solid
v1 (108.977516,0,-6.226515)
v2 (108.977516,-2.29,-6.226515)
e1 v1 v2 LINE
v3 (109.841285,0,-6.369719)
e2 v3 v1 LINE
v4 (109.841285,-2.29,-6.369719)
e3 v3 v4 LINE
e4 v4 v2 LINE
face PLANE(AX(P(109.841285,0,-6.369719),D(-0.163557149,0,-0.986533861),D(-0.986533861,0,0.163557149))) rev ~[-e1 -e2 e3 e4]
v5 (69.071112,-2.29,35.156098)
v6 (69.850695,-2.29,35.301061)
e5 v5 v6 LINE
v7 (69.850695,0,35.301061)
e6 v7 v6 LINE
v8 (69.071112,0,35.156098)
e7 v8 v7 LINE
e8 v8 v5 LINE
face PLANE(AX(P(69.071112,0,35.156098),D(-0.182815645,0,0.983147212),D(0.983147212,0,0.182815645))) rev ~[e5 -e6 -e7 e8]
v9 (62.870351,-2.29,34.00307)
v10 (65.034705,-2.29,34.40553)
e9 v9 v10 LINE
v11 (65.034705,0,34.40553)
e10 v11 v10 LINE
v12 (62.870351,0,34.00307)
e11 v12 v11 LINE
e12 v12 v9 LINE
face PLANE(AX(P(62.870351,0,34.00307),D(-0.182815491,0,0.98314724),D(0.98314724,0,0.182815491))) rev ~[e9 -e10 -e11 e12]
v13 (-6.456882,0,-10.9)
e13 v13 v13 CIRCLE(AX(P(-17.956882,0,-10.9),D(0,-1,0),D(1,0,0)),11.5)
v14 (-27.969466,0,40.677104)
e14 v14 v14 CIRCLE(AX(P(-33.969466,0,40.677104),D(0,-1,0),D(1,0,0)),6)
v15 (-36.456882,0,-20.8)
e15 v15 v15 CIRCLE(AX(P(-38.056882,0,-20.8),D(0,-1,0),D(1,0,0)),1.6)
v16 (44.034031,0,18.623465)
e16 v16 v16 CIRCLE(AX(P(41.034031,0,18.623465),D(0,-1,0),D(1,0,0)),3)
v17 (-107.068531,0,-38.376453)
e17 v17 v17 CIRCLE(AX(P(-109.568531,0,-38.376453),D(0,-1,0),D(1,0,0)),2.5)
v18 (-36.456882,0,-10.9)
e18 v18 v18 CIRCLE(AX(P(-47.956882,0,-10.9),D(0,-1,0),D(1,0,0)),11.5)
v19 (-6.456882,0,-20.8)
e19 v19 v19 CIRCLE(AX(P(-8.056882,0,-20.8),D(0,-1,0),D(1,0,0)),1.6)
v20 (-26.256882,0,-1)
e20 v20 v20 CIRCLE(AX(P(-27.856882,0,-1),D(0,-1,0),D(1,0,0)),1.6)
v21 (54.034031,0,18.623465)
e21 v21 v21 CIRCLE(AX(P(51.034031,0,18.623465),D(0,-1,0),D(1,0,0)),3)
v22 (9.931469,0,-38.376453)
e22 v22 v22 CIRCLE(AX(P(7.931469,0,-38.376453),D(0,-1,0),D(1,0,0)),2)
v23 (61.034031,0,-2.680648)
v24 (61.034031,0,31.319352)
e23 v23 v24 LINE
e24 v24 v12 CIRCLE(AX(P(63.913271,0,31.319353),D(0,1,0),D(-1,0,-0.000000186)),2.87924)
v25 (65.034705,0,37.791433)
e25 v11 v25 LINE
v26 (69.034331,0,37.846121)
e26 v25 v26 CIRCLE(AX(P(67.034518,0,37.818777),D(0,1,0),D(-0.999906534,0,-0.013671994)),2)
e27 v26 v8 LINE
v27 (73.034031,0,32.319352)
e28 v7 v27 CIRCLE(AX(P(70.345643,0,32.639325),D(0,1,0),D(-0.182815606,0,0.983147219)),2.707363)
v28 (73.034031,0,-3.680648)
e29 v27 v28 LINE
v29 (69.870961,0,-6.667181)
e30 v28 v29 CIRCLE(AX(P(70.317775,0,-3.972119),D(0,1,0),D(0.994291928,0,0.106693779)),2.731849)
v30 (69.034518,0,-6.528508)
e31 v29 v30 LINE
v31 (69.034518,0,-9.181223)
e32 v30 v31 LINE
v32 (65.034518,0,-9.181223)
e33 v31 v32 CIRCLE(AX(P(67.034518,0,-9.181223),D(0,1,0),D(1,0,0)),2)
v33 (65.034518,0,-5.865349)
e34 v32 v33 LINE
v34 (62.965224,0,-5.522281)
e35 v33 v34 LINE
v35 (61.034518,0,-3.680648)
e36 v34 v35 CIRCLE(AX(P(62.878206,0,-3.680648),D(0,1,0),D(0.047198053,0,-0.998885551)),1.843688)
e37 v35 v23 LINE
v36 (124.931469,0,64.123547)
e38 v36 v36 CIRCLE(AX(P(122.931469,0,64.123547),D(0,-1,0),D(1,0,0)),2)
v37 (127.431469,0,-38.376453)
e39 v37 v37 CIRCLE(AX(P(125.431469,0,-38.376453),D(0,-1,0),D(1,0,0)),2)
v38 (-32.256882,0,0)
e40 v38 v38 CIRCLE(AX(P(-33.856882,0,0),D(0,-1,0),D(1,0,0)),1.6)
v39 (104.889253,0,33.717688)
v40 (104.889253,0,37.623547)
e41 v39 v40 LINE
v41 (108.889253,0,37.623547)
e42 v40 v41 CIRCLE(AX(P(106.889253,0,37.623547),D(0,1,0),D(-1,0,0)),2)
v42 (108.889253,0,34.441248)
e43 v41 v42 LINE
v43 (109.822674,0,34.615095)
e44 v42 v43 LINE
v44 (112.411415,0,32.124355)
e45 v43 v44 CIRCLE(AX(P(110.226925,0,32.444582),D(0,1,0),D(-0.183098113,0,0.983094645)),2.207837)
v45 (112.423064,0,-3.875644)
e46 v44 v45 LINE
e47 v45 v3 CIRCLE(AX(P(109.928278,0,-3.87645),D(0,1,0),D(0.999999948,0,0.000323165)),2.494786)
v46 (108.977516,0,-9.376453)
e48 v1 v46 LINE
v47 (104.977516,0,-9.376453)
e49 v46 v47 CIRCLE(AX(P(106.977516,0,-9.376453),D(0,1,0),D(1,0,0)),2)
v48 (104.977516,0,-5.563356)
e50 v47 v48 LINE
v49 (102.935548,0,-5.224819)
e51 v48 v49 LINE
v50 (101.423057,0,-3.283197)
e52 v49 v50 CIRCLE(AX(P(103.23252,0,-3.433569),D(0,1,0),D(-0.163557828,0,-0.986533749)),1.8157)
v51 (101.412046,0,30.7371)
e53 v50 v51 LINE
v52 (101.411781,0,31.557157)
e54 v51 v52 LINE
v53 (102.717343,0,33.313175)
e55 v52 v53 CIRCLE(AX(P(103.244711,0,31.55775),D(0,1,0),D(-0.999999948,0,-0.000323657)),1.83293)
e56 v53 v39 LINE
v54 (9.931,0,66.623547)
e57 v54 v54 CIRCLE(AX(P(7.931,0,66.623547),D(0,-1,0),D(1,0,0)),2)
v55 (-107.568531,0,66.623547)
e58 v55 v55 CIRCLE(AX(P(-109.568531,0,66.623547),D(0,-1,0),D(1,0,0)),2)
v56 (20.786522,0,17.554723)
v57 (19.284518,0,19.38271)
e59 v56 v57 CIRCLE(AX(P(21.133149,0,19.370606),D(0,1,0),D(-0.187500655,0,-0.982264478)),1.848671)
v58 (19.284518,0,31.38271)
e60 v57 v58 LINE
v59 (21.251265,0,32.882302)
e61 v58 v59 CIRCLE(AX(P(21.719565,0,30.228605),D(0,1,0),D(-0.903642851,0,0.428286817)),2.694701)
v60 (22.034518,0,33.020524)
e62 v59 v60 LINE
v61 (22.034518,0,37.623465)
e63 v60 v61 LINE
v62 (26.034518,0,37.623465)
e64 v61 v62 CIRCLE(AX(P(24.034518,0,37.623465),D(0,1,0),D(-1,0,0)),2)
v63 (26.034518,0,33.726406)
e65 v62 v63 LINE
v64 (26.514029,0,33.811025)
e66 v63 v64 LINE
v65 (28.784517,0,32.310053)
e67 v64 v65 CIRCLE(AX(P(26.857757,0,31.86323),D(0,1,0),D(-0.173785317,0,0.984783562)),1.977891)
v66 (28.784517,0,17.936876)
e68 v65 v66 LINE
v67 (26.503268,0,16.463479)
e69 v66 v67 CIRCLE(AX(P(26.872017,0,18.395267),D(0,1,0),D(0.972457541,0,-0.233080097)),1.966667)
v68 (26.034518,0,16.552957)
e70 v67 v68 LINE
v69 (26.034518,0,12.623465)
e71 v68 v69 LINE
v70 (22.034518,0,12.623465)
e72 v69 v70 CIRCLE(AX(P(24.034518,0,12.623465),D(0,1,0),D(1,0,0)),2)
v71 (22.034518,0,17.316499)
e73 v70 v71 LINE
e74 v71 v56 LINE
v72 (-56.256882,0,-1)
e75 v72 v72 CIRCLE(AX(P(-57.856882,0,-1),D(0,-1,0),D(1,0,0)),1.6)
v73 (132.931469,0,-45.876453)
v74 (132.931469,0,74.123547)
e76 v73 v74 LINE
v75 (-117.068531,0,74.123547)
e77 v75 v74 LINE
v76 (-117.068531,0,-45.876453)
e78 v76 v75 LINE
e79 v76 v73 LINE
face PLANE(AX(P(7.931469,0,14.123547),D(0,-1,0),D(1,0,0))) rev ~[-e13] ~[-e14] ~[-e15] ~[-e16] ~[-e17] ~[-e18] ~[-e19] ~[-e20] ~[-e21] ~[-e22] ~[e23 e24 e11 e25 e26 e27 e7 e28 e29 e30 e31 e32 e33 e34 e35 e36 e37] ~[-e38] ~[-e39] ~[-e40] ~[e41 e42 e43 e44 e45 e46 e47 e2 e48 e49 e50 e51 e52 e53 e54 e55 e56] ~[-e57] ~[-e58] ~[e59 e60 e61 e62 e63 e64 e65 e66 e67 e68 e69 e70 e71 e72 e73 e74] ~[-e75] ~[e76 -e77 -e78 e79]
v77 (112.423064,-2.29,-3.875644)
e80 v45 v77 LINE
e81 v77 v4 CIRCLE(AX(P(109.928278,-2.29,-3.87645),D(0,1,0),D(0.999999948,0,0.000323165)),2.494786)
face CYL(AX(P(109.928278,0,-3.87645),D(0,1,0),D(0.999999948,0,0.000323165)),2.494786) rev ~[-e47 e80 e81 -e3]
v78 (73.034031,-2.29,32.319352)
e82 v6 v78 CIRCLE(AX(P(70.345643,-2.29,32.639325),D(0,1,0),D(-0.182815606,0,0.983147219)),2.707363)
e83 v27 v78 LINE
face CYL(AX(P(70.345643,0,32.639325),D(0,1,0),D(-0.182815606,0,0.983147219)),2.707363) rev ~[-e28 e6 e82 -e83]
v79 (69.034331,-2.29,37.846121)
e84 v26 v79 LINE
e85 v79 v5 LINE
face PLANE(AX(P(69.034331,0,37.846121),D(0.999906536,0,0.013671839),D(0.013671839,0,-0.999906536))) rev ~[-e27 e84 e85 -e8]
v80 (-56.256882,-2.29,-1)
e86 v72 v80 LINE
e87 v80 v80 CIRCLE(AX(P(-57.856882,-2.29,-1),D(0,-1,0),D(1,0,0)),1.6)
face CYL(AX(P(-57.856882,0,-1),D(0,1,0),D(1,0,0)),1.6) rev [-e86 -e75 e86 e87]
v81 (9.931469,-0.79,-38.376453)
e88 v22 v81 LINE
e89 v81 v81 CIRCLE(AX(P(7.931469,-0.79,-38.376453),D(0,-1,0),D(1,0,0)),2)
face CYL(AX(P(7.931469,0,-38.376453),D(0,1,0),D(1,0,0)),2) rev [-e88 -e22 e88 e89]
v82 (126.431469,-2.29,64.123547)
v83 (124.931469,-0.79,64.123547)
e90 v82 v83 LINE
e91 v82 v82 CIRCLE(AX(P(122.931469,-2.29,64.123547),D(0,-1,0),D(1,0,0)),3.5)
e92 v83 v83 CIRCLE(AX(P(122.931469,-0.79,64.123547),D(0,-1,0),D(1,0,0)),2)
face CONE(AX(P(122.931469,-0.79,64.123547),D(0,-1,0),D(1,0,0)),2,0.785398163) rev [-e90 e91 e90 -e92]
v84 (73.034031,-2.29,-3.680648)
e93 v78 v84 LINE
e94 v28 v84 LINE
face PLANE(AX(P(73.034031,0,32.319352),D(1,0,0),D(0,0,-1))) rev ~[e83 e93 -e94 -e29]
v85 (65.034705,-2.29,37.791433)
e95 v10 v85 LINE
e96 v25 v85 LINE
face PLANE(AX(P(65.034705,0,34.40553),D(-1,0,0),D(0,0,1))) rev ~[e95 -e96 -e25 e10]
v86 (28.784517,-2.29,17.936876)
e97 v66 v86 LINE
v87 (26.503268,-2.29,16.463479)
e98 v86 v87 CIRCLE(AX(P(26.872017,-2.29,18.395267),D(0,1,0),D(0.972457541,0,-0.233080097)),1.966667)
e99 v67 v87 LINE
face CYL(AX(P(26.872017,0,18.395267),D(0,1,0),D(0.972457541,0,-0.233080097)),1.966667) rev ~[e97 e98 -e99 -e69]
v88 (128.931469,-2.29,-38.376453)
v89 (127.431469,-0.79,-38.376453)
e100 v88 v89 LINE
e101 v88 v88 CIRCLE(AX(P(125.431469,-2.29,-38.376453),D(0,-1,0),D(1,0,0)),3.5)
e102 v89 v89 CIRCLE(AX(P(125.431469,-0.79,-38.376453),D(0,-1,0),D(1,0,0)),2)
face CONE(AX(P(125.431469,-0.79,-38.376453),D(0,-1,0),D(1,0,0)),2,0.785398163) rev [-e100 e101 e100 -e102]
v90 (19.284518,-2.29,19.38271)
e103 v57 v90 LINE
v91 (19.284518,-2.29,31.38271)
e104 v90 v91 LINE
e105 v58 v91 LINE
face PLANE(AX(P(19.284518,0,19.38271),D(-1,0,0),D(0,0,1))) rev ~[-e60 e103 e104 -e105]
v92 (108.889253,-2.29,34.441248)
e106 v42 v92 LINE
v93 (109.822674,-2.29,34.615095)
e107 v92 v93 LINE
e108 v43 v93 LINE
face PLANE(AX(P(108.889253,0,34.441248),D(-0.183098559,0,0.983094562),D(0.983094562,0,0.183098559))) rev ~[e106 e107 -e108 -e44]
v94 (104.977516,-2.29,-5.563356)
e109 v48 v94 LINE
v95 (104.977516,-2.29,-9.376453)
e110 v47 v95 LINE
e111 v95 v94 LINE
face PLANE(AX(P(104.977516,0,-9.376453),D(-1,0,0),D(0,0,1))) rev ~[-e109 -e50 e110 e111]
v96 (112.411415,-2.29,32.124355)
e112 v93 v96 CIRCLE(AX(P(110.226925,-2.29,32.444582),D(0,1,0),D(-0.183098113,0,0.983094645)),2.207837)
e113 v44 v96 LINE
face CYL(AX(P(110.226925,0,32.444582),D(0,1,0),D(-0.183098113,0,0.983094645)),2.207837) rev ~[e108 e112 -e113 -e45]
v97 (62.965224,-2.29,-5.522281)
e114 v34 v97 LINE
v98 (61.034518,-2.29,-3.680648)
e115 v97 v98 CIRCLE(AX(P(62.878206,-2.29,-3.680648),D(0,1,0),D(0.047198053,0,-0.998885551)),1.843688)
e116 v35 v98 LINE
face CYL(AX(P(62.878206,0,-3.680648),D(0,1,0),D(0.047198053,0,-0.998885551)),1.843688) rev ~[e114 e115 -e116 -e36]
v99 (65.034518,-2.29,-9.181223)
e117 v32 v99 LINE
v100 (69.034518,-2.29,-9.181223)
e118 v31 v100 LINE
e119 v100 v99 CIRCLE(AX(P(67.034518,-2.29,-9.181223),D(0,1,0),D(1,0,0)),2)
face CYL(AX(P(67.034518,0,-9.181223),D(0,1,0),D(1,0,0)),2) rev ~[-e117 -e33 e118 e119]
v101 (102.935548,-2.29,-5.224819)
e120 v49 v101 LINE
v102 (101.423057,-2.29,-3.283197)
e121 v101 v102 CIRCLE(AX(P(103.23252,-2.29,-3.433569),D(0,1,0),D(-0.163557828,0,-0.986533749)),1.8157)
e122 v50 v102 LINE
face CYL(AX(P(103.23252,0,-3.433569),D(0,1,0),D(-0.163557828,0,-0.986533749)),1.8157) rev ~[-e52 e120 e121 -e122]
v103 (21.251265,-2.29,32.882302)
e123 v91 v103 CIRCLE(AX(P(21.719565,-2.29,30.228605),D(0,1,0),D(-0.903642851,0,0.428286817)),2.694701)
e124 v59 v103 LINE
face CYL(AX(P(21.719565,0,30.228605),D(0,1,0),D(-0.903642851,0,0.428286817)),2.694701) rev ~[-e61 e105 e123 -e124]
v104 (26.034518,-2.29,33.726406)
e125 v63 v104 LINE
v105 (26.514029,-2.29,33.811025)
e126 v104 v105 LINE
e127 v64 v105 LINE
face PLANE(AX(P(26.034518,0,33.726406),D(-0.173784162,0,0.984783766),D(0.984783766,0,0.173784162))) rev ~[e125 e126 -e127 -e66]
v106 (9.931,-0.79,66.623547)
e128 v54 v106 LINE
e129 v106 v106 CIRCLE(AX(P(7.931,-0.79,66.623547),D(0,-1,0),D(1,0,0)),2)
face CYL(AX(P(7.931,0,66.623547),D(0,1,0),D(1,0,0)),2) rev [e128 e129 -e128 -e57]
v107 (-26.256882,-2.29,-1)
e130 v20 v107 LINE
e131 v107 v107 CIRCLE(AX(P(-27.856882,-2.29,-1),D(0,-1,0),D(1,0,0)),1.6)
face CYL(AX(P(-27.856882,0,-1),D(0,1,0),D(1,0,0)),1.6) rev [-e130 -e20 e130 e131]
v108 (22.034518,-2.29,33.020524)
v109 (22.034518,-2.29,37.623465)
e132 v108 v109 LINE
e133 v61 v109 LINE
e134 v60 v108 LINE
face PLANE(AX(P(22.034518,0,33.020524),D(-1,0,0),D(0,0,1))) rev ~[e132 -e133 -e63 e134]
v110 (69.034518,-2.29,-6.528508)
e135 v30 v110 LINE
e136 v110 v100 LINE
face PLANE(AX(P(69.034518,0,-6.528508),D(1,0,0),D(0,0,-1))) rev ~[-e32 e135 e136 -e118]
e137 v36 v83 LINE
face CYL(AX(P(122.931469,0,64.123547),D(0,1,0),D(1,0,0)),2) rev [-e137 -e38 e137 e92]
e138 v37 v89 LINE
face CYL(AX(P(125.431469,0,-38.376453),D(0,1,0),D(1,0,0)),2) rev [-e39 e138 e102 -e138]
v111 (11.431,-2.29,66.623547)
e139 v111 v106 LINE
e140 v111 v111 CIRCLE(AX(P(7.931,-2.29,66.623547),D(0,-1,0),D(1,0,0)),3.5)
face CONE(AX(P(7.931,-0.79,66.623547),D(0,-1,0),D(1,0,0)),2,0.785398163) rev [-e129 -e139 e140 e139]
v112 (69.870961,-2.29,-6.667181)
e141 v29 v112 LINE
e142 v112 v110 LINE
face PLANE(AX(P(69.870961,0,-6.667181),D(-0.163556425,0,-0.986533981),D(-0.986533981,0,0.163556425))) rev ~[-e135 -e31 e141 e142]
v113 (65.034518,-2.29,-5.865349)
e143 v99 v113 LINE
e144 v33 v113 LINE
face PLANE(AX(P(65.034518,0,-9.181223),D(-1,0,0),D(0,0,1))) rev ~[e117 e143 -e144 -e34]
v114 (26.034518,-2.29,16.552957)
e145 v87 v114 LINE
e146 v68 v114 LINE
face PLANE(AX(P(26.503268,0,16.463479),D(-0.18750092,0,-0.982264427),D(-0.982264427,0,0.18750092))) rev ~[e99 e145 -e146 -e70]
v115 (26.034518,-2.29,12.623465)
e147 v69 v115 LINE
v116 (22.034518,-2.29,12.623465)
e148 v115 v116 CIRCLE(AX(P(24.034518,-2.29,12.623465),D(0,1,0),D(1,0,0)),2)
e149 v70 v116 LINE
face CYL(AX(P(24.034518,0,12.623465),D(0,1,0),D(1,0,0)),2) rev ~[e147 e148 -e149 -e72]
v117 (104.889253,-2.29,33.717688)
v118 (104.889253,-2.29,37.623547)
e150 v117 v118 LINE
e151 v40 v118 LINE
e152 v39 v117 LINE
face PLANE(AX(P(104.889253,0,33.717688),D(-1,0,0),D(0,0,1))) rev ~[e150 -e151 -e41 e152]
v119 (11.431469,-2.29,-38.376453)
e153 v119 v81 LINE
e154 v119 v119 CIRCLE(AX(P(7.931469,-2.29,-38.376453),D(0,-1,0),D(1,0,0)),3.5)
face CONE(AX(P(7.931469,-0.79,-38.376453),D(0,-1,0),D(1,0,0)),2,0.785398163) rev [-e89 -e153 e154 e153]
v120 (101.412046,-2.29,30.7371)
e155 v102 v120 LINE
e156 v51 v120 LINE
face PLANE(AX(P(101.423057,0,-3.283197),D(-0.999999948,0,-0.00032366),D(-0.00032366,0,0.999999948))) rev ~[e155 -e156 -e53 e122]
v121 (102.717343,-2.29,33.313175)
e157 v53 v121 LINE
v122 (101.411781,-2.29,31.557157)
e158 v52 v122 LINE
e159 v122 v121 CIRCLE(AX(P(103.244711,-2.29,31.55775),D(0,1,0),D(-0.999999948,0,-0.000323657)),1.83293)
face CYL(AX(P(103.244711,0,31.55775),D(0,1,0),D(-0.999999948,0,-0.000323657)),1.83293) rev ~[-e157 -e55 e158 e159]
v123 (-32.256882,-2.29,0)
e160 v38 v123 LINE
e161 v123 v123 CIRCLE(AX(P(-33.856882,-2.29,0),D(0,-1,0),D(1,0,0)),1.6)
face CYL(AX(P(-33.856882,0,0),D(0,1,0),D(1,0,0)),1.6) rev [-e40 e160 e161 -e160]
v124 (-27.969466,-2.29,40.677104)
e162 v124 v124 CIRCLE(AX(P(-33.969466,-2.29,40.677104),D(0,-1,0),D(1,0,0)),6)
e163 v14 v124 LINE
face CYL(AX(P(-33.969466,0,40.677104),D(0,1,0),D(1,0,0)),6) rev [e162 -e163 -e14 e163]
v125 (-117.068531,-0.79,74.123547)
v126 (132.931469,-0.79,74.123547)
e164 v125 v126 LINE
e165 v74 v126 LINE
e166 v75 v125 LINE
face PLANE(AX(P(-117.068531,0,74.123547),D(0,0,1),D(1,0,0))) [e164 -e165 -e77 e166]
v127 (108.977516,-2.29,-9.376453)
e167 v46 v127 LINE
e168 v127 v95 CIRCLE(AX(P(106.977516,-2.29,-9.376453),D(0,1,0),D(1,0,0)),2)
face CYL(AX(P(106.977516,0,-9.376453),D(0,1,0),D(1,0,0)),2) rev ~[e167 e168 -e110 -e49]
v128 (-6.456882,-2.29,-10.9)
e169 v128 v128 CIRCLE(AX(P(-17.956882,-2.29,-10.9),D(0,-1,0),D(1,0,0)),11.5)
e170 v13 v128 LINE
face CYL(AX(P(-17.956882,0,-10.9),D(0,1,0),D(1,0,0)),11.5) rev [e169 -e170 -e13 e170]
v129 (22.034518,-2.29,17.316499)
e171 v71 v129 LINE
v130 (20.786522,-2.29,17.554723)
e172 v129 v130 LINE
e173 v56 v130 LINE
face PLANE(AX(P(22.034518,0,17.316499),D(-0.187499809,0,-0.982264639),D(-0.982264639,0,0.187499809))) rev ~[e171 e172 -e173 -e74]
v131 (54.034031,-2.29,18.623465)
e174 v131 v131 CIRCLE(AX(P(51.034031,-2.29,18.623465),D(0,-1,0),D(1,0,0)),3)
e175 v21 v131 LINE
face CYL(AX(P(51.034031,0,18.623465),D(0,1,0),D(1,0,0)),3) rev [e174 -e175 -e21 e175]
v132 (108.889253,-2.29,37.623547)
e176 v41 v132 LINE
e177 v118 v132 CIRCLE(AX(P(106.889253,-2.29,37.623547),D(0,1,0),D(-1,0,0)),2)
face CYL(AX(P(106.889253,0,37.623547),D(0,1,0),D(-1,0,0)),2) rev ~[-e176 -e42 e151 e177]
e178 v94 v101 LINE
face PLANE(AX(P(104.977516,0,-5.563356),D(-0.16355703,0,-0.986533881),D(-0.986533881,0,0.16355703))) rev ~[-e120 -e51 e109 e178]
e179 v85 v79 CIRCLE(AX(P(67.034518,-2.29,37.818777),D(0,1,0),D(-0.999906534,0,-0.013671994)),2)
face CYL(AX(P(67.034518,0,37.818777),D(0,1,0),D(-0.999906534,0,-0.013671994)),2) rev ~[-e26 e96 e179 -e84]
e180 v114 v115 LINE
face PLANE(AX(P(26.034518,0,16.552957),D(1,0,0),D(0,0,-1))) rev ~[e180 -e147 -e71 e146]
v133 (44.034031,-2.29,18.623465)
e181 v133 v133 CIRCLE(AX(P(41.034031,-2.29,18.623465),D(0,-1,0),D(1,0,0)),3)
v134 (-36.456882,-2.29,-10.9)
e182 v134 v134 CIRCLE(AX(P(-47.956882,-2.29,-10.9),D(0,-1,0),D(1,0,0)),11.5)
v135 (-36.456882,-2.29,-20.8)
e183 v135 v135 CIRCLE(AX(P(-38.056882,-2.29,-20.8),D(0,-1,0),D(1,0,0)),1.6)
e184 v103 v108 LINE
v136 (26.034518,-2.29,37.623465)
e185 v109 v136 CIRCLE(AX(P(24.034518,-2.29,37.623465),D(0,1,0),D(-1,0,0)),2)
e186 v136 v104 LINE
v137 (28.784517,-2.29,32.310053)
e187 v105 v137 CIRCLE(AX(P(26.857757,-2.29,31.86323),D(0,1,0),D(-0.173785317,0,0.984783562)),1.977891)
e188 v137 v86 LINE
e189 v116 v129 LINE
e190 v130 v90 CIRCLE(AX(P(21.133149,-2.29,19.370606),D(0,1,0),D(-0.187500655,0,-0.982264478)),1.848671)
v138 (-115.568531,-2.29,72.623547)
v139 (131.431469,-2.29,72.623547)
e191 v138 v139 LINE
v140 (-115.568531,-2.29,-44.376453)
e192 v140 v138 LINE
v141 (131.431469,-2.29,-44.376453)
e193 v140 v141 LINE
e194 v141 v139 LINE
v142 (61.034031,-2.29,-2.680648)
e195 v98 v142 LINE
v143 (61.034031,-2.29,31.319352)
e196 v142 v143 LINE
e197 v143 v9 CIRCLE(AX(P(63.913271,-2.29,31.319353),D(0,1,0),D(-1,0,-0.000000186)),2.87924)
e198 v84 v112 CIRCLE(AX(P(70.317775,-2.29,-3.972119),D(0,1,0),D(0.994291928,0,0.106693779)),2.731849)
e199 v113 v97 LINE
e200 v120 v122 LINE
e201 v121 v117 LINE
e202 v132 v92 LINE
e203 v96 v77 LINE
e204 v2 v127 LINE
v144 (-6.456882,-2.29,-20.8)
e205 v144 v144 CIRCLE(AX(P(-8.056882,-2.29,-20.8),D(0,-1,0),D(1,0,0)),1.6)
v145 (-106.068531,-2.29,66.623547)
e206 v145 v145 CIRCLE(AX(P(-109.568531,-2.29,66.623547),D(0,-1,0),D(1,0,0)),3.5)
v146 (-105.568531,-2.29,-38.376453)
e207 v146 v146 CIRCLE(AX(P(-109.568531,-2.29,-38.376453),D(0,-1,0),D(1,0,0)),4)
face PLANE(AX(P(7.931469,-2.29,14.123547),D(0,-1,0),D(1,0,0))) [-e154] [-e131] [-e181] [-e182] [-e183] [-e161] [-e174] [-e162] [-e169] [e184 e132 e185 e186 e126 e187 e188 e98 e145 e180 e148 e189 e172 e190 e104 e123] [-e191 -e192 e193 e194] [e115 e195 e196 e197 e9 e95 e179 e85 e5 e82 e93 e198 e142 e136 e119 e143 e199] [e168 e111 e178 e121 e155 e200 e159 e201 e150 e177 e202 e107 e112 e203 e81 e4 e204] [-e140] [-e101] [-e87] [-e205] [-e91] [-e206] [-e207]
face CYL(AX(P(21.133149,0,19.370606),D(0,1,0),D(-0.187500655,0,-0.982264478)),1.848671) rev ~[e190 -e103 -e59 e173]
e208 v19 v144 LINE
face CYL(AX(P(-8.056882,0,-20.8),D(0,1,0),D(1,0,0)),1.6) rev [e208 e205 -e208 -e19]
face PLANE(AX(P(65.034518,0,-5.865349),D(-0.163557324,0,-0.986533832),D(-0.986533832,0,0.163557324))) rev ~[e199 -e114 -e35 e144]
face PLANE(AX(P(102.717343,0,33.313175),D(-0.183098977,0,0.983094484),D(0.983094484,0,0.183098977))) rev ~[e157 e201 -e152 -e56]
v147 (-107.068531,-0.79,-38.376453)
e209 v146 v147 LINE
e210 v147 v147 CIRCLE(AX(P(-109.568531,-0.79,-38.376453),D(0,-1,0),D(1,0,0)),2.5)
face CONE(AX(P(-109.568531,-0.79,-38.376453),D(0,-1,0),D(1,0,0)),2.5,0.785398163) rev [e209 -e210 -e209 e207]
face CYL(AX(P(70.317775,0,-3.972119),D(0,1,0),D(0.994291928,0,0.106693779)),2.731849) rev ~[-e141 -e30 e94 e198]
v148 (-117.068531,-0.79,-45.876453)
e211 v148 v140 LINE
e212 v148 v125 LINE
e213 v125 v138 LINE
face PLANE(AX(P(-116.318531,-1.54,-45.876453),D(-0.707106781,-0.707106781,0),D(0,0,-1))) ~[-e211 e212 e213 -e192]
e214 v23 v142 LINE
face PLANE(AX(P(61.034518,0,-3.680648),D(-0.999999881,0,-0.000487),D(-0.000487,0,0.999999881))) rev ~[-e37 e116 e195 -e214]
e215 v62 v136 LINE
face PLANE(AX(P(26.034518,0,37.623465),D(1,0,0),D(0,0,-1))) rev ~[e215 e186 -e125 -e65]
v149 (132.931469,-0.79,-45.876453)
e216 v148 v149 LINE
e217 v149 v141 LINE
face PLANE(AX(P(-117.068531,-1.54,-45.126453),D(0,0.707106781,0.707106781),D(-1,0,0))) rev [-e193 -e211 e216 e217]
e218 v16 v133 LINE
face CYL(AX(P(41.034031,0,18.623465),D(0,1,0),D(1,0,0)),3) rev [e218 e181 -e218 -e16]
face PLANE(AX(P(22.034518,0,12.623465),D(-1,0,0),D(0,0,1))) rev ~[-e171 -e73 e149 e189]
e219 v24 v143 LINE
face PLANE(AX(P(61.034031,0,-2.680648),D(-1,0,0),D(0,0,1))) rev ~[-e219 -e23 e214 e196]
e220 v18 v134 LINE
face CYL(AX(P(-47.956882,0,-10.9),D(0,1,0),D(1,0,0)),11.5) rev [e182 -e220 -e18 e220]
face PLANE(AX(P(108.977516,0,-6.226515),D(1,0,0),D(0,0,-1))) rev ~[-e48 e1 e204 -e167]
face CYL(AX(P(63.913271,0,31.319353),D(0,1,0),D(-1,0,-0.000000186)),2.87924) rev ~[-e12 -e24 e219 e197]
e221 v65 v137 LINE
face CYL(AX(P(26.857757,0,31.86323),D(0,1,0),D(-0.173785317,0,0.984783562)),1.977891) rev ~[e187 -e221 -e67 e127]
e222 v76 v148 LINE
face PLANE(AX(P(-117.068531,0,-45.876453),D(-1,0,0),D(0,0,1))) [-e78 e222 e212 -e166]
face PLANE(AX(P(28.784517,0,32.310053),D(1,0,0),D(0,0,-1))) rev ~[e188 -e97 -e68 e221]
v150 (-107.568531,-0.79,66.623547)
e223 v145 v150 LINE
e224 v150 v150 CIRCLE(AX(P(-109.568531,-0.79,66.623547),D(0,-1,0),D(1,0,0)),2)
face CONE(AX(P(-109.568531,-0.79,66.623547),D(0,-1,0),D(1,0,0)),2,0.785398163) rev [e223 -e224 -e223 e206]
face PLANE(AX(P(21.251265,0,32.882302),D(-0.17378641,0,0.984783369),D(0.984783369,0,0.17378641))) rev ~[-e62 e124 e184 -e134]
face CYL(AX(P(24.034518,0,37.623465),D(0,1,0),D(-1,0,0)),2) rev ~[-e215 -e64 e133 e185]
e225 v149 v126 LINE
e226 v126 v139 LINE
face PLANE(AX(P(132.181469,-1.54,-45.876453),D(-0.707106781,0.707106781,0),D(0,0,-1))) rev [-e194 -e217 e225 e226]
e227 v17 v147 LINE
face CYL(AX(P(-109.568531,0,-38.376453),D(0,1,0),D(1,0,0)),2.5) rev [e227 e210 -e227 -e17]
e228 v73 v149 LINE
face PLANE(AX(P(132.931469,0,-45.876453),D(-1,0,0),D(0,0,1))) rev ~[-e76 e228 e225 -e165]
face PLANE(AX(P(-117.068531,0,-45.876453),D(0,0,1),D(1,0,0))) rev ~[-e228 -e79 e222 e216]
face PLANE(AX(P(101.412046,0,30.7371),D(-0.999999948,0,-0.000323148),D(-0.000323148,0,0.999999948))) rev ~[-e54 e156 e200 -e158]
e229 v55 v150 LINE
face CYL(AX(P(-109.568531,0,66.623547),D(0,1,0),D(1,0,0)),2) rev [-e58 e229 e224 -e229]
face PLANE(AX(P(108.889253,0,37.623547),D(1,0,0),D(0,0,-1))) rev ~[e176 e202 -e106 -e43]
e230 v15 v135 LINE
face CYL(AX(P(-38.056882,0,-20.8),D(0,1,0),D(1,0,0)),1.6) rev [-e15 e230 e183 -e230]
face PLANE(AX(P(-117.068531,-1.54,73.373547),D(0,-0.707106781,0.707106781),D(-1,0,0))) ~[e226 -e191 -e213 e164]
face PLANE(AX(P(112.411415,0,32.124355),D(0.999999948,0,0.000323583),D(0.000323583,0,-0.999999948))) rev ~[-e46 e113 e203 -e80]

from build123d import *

# Parameters (mm, degrees)
F0_W     = 250
F0_H     = 120
F0_R     = 2.5
F0_R_2   = 1.6
F0_R_3   = 11.5
F0_R_4   = 2
F0_R_5   = 6
F0_R_6   = 3
F1_DEPTH = 2.29
F2_SIZE  = 1.5
F3_SIZE  = 1.5


with BuildPart() as f1:
    # F0 (on Front) → F1 (new body)
    with BuildSketch(Plane.XZ):
        with Locations((7.931469, 14.123547)):
            Rectangle(F0_W, F0_H)
        with Locations((-109.568531, -38.376453)):
            Circle(F0_R, mode=Mode.SUBTRACT)
        with Locations((-38.056882, -20.8)):
            Circle(F0_R_2, mode=Mode.SUBTRACT)
        with Locations((-8.056882, -20.8)):
            Circle(F0_R_2, mode=Mode.SUBTRACT)
        with Locations((-57.856882, -1)):
            Circle(F0_R_2, mode=Mode.SUBTRACT)
        with Locations((-47.956882, -10.9)):
            Circle(F0_R_3, mode=Mode.SUBTRACT)
        with Locations((-27.856882, -1)):
            Circle(F0_R_2, mode=Mode.SUBTRACT)
        with Locations((-17.956882, -10.9)):
            Circle(F0_R_3, mode=Mode.SUBTRACT)
        with Locations((-33.856882, 0)):
            Circle(F0_R_2, mode=Mode.SUBTRACT)
        with Locations((7.931469, -38.376453)):
            Circle(F0_R_4, mode=Mode.SUBTRACT)
        with Locations((125.431469, -38.376453)):
            Circle(F0_R_4, mode=Mode.SUBTRACT)
        with Locations((-33.969466, 40.677104)):
            Circle(F0_R_5, mode=Mode.SUBTRACT)
        with Locations((-109.568531, 66.623547)):
            Circle(F0_R_4, mode=Mode.SUBTRACT)
        with Locations((7.931, 66.623547)):
            Circle(F0_R_4, mode=Mode.SUBTRACT)
        with BuildLine():
            ThreePointArc((26.514029, 33.811025), (27.948503, 33.513178), (28.784517, 32.310053))
            Line((28.784517, 32.310053), (28.784517, 17.936876))
            ThreePointArc((28.784517, 17.936876), (27.93903, 16.743219), (26.503268, 16.463479))
            Line((26.503268, 16.463479), (26.034518, 16.552957))
            Line((26.034518, 16.552957), (26.034518, 12.623465))
            ThreePointArc((26.034518, 12.623465), (24.034518, 10.623465), (22.034518, 12.623465))
            Line((22.034518, 12.623465), (22.034518, 17.316499))
            Line((22.034518, 17.316499), (20.786522, 17.554723))
            ThreePointArc((20.786522, 17.554723), (19.704803, 18.196975), (19.284518, 19.38271))
            Line((19.284518, 19.38271), (19.284518, 31.38271))
            ThreePointArc((19.284518, 31.38271), (20.085689, 32.371468), (21.251265, 32.882302))
            Line((21.251265, 32.882302), (22.034518, 33.020524))
            Line((22.034518, 33.020524), (22.034518, 37.623465))
            ThreePointArc((22.034518, 37.623465), (24.034518, 39.623465), (26.034518, 37.623465))
            Line((26.034518, 37.623465), (26.034518, 33.726406))
            Line((26.034518, 33.726406), (26.514029, 33.811025))
        make_face(mode=Mode.SUBTRACT)
        with Locations((41.034031, 18.623465)):
            Circle(F0_R_6, mode=Mode.SUBTRACT)
        with Locations((51.034031, 18.623465)):
            Circle(F0_R_6, mode=Mode.SUBTRACT)
        with BuildLine():
            ThreePointArc((69.034518, -9.181223), (67.034518, -11.181223), (65.034518, -9.181223))
            Line((65.034518, -9.181223), (65.034518, -5.865349))
            Line((65.034518, -5.865349), (62.965224, -5.522281))
            ThreePointArc((62.965224, -5.522281), (61.605659, -5.014743), (61.034518, -3.680648))
            Line((61.034518, -3.680648), (61.034031, -2.680648))
            Line((61.034031, -2.680648), (61.034031, 31.319352))
            ThreePointArc((61.034031, 31.319352), (61.537051, 32.945268), (62.870351, 34.00307))
            Line((62.870351, 34.00307), (65.034705, 34.40553))
            Line((65.034705, 34.40553), (65.034705, 37.791433))
            ThreePointArc((65.034705, 37.791433), (67.007175, 39.81859), (69.034331, 37.846121))
            Line((69.034331, 37.846121), (69.071112, 35.156098))
            Line((69.071112, 35.156098), (69.850695, 35.301061))
            ThreePointArc((69.850695, 35.301061), (72.196438, 34.615273), (73.034031, 32.319352))
            Line((73.034031, 32.319352), (73.034031, -3.680648))
            ThreePointArc((73.034031, -3.680648), (72.193258, -5.958464), (69.870961, -6.667181))
            Line((69.870961, -6.667181), (69.034518, -6.528508))
            Line((69.034518, -6.528508), (69.034518, -9.181223))
        make_face(mode=Mode.SUBTRACT)
        with BuildLine():
            ThreePointArc((108.977516, -9.376453), (106.977516, -11.376453), (104.977516, -9.376453))
            Line((104.977516, -9.376453), (104.977516, -6.064618))
            Line((104.977516, -6.064618), (104.977516, -5.563356))
            Line((104.977516, -5.563356), (102.935548, -5.224819))
            ThreePointArc((102.935548, -5.224819), (101.80013, -4.549377), (101.423057, -3.283197))
            Line((101.423057, -3.283197), (101.412046, 30.7371))
            Line((101.412046, 30.7371), (101.411781, 31.557157))
            ThreePointArc((101.411781, 31.557157), (101.773775, 32.651359), (102.717343, 33.313175))
            Line((102.717343, 33.313175), (104.889253, 33.717688))
            Line((104.889253, 33.717688), (104.889253, 34.211154))
            Line((104.889253, 34.211154), (104.889253, 37.623547))
            ThreePointArc((104.889253, 37.623547), (106.889253, 39.623547), (108.889253, 37.623547))
            Line((108.889253, 37.623547), (108.889253, 34.960369))
            Line((108.889253, 34.960369), (108.889253, 34.441248))
            Line((108.889253, 34.441248), (109.822674, 34.615095))
            ThreePointArc((109.822674, 34.615095), (111.757696, 34.035583), (112.411415, 32.124355))
            Line((112.411415, 32.124355), (112.423064, -3.875644))
            ThreePointArc((112.423064, -3.875644), (111.661619, -5.670743), (109.841285, -6.369719))
            Line((109.841285, -6.369719), (108.977516, -6.226515))
            Line((108.977516, -6.226515), (108.977516, -6.727777))
            Line((108.977516, -6.727777), (108.977516, -9.376453))
        make_face(mode=Mode.SUBTRACT)
        with Locations((122.931469, 64.123547)):
            Circle(F0_R_4, mode=Mode.SUBTRACT)
    extrude(amount=F1_DEPTH)

    # F2
    f2_edges = [f1.edges().sort_by_distance(p)[0] for p in [
        (-117.068531, -2.29, 14.123547),
        (7.931469, -2.29, -45.876453),
        (132.931469, -2.29, 14.123547),
        (7.931469, -2.29, 74.123547),
    ]]
    chamfer(f2_edges, length=F2_SIZE)

    # F3
    f3_edges = [f1.edges().sort_by_distance(p)[0] for p in [
        (-111.568531, -2.29, 66.623547),
        (5.931, -2.29, 66.623547),
        (120.931469, -2.29, 64.123547),
        (123.431469, -2.29, -38.376453),
        (5.931469, -2.29, -38.376453),
        (-112.068531, -2.29, -38.376453),
    ]]
    chamfer(f3_edges, length=F3_SIZE)


solid = f1.part
